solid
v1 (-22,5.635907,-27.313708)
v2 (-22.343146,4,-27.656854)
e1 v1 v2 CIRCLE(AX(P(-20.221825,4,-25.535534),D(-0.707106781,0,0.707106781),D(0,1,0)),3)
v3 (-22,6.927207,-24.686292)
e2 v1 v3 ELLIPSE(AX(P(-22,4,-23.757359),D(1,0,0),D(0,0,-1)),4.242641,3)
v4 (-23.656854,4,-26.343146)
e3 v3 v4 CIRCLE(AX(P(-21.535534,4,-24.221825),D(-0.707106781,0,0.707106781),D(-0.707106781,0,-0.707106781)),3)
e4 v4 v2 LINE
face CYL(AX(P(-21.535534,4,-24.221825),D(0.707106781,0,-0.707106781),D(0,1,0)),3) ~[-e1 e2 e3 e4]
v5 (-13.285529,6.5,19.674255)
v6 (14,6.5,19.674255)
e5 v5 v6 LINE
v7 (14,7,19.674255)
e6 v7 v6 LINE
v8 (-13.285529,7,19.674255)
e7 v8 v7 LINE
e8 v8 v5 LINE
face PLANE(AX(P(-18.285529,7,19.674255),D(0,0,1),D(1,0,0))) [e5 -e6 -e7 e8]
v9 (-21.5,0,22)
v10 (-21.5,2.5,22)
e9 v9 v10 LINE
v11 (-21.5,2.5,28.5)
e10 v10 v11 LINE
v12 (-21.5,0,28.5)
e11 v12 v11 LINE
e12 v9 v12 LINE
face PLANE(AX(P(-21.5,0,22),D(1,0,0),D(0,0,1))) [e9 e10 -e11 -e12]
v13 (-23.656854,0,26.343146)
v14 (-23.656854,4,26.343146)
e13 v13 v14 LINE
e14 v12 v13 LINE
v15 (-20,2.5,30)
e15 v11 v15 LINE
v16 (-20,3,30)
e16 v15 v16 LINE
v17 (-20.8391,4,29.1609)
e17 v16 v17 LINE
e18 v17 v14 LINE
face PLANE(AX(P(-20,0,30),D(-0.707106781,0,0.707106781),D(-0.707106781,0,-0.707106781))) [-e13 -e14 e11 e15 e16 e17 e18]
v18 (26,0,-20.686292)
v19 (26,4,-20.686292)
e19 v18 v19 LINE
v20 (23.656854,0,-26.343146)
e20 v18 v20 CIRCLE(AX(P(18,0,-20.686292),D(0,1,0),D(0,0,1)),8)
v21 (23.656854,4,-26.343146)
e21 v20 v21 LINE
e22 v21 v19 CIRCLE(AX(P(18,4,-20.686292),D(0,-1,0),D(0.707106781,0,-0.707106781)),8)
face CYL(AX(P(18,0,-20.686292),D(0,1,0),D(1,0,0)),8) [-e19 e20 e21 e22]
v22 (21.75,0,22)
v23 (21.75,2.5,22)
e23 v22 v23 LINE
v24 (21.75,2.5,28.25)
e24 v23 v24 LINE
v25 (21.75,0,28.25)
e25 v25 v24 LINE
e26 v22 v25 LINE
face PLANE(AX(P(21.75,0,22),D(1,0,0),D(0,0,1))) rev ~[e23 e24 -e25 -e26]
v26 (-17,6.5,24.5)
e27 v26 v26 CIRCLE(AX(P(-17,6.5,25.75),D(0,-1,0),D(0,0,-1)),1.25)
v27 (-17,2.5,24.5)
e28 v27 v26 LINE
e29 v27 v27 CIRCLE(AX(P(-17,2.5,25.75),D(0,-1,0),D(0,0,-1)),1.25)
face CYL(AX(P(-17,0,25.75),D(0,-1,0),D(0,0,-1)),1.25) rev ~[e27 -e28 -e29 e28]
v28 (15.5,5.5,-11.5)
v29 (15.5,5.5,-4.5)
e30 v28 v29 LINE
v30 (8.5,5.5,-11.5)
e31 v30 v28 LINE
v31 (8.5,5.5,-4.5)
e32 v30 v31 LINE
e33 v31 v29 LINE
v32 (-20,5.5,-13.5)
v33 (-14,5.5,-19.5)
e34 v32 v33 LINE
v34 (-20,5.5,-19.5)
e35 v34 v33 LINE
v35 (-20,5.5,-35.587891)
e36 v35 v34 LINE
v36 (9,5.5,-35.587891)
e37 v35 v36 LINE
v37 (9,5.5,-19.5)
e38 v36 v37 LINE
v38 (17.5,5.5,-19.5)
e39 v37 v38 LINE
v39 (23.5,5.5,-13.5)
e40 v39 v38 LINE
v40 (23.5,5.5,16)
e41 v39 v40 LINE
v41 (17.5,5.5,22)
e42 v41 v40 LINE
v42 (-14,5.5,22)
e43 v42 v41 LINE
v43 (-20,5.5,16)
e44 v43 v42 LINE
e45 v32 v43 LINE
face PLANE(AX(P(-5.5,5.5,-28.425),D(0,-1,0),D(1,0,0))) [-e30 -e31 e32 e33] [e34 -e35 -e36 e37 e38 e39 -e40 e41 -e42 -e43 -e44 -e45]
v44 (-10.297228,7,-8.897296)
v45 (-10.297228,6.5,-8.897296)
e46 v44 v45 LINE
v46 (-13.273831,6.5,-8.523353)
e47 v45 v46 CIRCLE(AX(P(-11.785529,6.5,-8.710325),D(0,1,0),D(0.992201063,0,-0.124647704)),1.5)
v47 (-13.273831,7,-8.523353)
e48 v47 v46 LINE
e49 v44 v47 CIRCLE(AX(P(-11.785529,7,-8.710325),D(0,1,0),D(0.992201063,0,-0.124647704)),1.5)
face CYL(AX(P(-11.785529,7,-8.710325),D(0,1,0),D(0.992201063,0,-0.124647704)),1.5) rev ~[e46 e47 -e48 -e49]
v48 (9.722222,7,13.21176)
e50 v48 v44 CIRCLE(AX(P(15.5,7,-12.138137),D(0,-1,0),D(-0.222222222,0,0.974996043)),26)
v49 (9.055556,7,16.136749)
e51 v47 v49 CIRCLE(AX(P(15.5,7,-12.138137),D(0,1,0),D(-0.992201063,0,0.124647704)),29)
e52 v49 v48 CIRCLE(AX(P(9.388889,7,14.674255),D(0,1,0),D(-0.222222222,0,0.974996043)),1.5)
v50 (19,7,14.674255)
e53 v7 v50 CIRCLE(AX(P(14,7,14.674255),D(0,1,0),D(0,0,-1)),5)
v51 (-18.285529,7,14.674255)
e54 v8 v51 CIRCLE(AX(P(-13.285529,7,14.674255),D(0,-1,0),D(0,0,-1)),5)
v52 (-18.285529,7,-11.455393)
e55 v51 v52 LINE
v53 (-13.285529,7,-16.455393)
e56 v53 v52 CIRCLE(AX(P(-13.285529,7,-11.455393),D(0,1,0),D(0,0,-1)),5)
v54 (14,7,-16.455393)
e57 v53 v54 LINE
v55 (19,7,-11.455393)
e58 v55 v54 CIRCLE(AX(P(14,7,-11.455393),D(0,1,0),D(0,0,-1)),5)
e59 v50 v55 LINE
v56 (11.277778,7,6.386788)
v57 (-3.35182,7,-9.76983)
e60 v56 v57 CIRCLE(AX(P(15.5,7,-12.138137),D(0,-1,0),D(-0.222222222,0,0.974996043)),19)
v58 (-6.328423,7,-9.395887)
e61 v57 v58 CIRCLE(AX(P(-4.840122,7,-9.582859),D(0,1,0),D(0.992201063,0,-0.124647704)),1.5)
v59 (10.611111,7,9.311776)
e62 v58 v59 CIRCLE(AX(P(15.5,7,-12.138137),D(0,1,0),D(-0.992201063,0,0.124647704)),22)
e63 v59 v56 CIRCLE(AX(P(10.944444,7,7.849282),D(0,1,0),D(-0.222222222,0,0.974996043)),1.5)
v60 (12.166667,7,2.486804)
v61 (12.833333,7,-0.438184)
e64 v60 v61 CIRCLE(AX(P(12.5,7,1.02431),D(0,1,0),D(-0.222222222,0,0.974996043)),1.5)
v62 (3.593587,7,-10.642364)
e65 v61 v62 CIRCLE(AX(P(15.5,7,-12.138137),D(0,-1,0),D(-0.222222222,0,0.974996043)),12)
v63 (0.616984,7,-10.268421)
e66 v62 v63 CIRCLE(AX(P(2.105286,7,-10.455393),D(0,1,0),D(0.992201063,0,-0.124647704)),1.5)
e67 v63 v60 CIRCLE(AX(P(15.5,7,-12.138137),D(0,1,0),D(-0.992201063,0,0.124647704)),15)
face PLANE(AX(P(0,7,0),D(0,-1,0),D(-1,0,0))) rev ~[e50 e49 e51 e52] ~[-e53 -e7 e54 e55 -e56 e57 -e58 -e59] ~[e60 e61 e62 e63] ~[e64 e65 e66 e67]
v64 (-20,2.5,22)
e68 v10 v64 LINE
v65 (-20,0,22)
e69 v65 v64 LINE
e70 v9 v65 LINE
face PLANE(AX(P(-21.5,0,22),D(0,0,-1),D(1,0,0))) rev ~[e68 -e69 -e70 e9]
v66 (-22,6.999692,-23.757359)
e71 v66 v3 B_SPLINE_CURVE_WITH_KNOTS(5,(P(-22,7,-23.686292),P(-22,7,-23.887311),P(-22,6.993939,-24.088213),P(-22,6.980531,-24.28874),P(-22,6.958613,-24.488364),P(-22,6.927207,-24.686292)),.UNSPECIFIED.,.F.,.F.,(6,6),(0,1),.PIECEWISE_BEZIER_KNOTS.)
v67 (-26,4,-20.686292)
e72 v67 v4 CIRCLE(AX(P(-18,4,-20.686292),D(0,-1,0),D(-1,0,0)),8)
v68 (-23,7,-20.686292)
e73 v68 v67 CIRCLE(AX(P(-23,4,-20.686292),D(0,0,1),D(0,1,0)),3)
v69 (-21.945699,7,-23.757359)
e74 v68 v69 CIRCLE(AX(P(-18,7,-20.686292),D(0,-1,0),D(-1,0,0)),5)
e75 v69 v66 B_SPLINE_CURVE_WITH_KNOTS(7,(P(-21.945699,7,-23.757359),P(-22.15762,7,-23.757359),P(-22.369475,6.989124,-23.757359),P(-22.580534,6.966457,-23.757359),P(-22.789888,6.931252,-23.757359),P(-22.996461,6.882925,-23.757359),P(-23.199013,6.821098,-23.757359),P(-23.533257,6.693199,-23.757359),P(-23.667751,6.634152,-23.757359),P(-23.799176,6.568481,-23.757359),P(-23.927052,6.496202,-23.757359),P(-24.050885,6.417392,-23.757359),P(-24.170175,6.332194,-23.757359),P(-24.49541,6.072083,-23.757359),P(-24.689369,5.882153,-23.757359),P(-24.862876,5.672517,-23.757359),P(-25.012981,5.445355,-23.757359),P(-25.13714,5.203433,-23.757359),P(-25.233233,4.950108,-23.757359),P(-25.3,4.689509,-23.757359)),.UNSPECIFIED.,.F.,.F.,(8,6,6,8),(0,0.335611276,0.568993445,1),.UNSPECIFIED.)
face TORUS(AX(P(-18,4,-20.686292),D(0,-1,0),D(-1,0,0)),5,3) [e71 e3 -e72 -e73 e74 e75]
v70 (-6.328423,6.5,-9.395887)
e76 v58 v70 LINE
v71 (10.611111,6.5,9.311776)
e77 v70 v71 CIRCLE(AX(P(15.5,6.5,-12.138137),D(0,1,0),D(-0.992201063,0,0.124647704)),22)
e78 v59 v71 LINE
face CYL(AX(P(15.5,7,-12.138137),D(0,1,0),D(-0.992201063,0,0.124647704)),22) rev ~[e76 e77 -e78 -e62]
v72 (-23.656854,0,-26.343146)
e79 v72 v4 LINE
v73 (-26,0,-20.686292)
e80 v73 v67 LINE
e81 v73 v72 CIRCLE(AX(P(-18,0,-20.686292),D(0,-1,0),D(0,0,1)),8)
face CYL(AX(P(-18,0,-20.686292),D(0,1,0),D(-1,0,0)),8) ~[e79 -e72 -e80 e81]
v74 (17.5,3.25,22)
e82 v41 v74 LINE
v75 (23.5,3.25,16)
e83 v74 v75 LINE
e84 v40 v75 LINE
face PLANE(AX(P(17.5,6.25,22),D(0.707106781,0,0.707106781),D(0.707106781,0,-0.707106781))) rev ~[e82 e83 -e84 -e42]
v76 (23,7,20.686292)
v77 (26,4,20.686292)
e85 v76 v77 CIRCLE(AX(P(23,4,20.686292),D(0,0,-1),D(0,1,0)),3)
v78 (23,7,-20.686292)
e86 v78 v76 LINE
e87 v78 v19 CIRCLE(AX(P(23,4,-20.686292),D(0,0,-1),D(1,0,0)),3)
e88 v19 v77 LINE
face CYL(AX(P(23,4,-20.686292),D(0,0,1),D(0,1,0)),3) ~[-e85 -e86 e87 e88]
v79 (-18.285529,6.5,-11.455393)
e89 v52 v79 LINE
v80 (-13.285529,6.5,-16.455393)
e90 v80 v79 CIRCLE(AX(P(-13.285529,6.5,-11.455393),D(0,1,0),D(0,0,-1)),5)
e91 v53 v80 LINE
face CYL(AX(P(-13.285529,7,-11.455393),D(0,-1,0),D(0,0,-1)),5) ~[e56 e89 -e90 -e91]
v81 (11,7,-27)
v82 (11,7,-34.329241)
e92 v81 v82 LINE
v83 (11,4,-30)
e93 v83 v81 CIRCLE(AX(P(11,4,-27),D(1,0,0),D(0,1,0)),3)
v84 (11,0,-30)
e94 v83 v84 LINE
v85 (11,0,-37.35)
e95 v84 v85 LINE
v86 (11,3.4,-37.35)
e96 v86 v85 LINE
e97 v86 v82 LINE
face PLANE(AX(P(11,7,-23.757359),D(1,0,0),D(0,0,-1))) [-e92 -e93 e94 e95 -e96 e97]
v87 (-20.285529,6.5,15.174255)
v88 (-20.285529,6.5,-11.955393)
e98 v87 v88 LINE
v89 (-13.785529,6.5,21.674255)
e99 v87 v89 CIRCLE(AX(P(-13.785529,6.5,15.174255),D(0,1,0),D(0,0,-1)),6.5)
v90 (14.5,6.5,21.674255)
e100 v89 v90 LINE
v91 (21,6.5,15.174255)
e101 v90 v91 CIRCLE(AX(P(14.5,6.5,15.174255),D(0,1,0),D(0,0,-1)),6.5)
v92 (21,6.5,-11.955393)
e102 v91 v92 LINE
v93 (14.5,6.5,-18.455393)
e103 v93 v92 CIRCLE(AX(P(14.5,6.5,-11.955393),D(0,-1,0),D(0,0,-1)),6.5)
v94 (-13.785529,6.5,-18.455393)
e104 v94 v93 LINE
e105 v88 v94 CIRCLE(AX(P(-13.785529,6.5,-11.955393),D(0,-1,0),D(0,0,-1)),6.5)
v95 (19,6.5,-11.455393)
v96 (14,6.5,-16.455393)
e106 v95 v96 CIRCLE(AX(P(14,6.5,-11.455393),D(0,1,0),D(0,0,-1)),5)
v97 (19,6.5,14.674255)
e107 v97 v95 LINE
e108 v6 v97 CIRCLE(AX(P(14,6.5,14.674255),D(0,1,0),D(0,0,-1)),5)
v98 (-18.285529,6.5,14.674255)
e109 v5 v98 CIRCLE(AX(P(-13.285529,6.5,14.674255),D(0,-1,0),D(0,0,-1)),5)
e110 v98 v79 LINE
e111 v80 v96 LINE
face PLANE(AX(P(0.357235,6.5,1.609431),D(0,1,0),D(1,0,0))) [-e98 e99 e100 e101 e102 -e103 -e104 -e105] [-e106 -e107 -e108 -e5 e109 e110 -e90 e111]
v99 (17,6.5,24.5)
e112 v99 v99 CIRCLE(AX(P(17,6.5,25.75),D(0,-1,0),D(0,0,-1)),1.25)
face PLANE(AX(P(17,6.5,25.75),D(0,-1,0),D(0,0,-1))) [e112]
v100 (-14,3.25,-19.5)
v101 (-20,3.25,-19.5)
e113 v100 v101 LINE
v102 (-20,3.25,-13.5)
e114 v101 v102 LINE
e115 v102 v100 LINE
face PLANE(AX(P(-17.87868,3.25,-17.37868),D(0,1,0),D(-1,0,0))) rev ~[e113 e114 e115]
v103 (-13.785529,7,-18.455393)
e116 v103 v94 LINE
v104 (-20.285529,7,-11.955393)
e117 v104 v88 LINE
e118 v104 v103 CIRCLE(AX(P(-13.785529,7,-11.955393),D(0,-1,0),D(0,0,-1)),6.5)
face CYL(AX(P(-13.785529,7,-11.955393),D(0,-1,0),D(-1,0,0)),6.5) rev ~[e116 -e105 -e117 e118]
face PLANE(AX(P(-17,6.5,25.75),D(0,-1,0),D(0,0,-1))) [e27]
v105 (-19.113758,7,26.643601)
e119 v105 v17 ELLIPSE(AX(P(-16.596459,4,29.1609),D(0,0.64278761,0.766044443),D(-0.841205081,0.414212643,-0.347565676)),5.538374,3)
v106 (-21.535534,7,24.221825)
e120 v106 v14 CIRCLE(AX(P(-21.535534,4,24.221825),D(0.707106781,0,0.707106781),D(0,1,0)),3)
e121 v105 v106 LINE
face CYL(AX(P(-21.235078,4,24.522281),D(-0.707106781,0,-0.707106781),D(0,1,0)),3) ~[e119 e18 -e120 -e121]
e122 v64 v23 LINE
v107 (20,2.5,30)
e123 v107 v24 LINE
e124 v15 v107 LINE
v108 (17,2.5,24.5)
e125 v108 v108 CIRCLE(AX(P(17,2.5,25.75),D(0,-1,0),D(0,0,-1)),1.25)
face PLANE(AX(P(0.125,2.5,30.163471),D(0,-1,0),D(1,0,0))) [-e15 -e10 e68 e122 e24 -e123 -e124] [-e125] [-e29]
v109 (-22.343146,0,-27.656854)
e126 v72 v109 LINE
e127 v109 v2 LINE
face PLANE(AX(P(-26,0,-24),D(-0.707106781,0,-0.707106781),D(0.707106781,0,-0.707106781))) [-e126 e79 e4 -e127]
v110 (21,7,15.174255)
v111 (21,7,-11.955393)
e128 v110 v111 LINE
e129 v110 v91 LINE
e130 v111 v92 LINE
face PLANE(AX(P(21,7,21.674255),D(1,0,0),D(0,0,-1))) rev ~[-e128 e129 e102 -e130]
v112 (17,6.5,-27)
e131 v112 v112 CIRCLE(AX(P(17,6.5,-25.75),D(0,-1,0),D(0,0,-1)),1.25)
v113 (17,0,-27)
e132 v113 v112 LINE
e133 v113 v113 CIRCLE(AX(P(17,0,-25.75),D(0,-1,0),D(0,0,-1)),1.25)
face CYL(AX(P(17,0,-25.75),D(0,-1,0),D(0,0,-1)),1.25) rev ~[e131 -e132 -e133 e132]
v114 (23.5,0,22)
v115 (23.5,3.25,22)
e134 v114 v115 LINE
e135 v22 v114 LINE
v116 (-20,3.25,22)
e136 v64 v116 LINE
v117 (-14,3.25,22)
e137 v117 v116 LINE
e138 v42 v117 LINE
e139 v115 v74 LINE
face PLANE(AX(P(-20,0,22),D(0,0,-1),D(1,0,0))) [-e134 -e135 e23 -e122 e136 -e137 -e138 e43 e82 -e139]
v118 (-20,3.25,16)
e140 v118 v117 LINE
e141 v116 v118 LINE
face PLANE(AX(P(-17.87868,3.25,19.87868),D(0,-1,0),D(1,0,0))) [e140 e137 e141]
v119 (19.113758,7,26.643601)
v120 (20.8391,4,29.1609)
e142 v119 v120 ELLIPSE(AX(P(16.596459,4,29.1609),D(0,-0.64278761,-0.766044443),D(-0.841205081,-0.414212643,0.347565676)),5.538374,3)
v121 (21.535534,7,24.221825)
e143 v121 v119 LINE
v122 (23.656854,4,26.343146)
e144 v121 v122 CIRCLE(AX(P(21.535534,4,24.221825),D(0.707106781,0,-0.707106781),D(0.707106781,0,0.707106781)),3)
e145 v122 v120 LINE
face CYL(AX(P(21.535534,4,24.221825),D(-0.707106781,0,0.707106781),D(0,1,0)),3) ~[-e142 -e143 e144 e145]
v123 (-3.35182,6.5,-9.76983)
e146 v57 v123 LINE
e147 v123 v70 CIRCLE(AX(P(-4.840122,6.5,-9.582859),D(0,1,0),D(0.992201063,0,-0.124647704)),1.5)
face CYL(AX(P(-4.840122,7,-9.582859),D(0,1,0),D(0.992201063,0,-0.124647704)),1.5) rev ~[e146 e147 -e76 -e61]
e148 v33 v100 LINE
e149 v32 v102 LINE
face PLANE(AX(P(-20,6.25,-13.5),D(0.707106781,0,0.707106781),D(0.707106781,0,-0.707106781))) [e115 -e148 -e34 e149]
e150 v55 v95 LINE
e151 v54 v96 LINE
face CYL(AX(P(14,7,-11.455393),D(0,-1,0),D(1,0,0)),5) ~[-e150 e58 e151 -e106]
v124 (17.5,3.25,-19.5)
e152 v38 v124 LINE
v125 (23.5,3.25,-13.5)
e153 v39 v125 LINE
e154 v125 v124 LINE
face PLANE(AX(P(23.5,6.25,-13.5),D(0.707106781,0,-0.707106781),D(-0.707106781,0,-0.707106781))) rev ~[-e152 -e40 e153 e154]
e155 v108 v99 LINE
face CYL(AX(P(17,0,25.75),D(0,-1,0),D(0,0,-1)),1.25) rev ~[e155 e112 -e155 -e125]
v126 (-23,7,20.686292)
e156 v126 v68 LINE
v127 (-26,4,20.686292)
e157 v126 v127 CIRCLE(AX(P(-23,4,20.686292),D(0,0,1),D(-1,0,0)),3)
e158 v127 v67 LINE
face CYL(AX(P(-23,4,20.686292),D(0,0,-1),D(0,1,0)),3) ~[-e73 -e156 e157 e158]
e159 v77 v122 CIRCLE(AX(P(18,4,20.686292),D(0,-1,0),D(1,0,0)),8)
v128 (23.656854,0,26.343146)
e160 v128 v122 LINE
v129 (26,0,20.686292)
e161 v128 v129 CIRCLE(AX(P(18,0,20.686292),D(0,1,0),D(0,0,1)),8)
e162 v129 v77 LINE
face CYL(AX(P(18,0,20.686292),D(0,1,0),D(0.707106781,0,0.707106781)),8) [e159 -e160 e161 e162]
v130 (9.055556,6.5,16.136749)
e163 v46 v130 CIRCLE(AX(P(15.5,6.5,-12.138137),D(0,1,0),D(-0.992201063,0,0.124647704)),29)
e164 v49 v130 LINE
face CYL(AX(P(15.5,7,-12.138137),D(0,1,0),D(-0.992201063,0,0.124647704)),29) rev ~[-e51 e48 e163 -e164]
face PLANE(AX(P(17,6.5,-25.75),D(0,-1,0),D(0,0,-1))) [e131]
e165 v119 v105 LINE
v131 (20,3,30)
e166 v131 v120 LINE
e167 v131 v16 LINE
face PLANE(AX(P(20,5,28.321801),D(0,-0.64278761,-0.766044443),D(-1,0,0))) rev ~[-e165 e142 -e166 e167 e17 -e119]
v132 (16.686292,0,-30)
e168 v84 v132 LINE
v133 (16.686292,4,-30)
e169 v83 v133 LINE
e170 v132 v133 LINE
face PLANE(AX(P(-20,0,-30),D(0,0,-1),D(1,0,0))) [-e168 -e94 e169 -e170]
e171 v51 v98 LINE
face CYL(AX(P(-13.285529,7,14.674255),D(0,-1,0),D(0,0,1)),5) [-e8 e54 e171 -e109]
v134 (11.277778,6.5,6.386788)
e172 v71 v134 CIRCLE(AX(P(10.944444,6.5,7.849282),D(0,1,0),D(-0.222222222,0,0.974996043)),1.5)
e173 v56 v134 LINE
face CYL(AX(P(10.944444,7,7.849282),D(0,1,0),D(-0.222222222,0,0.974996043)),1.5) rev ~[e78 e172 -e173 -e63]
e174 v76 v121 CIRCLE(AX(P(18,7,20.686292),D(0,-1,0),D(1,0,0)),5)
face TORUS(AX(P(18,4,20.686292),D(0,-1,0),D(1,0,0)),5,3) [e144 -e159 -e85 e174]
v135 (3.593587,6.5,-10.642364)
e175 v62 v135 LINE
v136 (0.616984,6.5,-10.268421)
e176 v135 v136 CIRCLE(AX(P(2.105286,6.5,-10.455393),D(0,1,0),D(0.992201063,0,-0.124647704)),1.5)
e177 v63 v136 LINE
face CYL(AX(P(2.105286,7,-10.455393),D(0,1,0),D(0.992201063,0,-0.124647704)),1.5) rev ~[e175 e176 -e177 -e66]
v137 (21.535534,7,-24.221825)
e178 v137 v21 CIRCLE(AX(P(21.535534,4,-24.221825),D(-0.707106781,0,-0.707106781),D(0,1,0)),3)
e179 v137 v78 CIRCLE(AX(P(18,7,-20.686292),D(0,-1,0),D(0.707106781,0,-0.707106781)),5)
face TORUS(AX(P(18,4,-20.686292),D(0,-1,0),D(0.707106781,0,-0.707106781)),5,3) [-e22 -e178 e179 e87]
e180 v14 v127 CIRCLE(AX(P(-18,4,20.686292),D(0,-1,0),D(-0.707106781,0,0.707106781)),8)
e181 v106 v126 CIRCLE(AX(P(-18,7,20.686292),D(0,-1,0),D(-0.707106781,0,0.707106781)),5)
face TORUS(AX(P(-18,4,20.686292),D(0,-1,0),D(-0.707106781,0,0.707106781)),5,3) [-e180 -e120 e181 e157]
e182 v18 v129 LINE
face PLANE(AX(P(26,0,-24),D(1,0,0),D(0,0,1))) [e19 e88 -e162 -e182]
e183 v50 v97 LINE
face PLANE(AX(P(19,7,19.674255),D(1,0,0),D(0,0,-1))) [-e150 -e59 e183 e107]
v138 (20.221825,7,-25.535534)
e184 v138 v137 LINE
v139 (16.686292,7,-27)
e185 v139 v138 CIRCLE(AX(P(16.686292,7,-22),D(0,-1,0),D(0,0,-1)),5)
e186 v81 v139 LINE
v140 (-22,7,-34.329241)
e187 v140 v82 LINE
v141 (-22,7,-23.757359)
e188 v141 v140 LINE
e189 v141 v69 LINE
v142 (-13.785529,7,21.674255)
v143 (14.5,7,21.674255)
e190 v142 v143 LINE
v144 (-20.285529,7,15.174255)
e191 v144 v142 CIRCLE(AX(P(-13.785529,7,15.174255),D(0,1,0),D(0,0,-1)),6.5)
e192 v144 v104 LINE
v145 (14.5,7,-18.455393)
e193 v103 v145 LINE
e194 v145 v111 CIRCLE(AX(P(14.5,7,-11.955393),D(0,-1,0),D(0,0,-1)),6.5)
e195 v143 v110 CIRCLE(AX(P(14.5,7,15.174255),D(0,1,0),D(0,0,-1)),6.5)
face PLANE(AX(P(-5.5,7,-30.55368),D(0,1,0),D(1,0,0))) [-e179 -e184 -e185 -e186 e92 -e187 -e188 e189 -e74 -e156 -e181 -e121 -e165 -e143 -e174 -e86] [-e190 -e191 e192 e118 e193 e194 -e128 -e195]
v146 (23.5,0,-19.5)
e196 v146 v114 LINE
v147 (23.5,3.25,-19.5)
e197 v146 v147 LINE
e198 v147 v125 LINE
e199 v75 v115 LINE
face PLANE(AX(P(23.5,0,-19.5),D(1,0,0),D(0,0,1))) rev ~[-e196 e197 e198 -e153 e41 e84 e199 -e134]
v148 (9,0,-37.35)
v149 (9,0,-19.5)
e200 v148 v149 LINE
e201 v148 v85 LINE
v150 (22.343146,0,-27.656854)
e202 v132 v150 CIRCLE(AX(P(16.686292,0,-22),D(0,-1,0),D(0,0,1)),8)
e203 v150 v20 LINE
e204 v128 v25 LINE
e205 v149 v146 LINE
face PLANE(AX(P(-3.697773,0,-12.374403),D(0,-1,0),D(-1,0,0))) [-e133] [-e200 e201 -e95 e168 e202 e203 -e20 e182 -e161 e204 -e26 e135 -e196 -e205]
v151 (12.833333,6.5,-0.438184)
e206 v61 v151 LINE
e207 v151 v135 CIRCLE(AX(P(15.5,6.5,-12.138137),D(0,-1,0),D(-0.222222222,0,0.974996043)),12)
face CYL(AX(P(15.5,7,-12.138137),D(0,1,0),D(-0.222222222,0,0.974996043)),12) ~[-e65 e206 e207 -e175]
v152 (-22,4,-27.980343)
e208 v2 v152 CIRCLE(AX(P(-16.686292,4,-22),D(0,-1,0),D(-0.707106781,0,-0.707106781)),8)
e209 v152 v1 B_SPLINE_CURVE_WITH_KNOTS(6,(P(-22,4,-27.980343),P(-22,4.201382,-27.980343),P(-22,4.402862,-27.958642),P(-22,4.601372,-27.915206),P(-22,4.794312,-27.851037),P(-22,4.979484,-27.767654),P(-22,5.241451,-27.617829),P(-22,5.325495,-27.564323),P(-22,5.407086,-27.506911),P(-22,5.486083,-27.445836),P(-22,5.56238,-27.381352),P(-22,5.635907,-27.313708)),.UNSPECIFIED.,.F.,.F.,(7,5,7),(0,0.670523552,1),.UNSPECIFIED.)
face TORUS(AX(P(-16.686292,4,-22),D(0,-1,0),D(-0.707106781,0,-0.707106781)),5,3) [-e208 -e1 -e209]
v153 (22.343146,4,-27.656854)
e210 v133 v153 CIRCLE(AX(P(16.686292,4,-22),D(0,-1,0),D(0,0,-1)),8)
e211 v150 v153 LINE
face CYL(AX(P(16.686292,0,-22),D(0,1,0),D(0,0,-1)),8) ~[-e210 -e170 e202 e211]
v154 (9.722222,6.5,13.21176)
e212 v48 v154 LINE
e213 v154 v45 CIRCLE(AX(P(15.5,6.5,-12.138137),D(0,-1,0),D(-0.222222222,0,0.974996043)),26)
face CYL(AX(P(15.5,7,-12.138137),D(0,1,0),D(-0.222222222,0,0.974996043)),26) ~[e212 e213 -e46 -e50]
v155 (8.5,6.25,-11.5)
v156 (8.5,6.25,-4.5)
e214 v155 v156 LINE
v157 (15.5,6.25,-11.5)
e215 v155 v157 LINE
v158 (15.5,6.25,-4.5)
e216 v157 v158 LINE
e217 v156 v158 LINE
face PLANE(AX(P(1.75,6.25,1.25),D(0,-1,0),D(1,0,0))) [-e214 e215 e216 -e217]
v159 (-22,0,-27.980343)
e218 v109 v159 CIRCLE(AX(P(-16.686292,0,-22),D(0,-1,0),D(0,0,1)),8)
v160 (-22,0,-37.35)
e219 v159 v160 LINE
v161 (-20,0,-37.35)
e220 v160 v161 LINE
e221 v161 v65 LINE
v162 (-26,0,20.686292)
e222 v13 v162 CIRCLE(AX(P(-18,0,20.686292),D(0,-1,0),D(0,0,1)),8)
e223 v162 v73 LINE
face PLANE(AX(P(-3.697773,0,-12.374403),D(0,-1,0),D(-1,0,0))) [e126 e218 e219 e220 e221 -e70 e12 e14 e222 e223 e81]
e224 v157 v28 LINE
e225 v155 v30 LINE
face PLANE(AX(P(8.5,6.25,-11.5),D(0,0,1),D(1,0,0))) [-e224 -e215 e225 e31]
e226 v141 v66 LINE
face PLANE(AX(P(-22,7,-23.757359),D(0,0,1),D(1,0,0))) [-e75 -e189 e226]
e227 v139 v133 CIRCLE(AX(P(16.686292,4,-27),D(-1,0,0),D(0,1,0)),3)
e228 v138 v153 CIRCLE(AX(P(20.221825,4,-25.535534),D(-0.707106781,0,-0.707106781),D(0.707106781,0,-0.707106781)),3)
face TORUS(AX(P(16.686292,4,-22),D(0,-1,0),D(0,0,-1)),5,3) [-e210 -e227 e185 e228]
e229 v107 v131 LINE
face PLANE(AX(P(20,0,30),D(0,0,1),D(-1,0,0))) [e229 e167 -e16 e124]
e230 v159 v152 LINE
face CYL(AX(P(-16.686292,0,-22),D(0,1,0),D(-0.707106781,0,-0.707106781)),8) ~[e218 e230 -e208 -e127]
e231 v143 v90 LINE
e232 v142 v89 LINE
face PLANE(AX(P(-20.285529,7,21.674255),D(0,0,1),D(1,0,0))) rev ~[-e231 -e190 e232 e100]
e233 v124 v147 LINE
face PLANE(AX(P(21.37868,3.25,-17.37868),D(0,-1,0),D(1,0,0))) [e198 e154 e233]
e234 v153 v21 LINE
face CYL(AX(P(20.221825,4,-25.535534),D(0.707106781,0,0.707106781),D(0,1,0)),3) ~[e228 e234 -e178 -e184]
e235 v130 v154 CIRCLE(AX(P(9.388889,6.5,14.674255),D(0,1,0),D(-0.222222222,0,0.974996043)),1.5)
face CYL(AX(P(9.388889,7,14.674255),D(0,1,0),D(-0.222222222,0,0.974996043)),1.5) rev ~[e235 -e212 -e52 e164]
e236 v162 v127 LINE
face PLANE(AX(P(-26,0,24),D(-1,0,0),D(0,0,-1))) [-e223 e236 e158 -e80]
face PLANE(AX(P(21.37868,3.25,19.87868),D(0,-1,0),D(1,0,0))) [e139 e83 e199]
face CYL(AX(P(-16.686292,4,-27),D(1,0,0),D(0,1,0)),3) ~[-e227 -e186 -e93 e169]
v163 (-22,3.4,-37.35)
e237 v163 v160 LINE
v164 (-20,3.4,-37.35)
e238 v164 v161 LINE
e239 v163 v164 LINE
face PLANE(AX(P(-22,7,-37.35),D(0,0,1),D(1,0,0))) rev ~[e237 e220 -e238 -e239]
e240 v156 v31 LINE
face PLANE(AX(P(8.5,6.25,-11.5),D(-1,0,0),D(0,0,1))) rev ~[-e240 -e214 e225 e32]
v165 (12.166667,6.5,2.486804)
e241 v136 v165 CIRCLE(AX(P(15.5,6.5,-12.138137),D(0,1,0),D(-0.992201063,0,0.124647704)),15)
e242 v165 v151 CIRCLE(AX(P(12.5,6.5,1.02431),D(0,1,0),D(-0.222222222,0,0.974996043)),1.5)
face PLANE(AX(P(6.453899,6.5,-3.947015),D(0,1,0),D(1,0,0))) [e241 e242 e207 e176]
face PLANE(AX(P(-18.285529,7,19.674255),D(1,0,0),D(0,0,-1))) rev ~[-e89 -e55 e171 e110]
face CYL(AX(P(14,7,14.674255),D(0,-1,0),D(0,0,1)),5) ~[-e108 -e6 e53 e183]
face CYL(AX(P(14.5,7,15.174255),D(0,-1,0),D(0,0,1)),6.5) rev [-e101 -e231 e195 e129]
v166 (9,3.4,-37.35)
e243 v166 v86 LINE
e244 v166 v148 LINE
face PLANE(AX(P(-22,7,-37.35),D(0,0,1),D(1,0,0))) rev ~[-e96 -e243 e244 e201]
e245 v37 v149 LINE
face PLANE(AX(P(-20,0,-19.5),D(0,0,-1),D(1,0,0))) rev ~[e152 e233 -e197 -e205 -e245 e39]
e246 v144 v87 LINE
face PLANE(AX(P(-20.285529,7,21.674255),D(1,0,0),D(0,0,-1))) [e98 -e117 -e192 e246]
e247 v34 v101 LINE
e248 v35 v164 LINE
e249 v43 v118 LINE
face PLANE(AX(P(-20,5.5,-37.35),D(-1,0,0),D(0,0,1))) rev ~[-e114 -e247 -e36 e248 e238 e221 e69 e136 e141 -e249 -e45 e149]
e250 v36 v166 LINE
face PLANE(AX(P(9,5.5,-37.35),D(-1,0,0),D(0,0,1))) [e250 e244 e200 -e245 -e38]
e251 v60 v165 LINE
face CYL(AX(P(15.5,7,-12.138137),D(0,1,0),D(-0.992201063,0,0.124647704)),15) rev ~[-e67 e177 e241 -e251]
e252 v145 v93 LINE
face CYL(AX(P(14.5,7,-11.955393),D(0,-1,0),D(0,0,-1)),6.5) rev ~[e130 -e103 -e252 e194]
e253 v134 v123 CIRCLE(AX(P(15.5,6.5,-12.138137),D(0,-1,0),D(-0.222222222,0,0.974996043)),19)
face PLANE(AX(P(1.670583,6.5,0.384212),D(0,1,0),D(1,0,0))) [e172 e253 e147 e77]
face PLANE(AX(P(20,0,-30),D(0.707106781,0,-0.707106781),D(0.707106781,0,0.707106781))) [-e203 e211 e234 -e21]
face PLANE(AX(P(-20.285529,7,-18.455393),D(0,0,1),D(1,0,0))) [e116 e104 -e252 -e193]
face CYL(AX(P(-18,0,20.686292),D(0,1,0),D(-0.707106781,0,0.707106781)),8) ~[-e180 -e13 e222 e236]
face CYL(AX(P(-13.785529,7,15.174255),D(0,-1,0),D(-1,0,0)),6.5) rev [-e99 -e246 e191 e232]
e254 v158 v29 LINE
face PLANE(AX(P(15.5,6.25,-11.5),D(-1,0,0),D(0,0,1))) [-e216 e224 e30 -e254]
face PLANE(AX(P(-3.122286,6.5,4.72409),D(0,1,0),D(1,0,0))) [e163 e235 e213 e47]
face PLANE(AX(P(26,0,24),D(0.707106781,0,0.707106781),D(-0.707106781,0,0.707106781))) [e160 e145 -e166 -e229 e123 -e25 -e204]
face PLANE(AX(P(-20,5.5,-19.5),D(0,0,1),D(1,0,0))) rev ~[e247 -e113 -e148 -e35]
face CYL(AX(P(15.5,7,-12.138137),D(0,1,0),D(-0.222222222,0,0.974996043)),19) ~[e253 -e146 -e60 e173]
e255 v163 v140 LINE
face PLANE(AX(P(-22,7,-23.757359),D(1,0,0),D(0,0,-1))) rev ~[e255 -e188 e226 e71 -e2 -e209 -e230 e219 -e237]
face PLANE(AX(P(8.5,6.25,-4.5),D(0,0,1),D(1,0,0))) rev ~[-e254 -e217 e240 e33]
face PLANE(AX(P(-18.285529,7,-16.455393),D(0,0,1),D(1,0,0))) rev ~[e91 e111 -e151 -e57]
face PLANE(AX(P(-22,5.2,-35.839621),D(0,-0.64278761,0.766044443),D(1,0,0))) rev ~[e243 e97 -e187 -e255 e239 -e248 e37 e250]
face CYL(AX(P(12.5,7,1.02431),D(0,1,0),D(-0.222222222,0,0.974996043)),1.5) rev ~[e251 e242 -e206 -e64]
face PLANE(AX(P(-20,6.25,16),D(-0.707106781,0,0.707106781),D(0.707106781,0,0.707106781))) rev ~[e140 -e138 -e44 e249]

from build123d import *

# Parameters (mm, degrees)
BOSS_EXTRUDE1_DEPTH = 7
SKETCH2_W           = 43.5
SKETCH2_H           = 41.5
CUT_EXTRUDE1_DEPTH  = 6.25
BOSS_EXTRUDE2_DEPTH = 3
SKETCH4_W           = 43.25
SKETCH4_H           = 16.326941356
CUT_EXTRUDE2_DEPTH  = 2.5
SKETCH5_R           = 1.25
CUT_EXTRUDE3_DEPTH  = 6.5
SKETCH6_W           = 43.5
SKETCH6_H           = 41.5
SKETCH6_W_2         = 7
SKETCH6_H_2         = 7
BOSS_EXTRUDE3_DEPTH = 0.75
SKETCH7_W           = 41.285529239
SKETCH7_H           = 40.12964718
SKETCH7_W_2         = 37.285529239
SKETCH7_H_2         = 36.12964718
CUT_EXTRUDE4_DEPTH  = 0.5
CHAMFER1_SIZE       = 4
CHAMFER1_SIZE2      = 3.356398525
FILLET1_R           = 8
FILLET2_R           = 3
FILLET3_R           = 5
FILLET4_R           = 6.5
BOSS_EXTRUDE4_REACH = 42.311
SKETCH11_W          = 33
SKETCH11_H          = 13.592640687
CHAMFER2_SIZE       = 3.6
CHAMFER2_SIZE2      = 3.020758672
CUT_EXTRUDE7_START  = -5.5
SKETCH12_W          = 29
SKETCH12_H          = 17.85
CUT_EXTRUDE7_DEPTH  = 5.5


with BuildPart() as part:
    # Sketch1 → Boss-Extrude1 (new body)
    with BuildSketch(Plane(origin=(0, 0, 0), x_dir=(1, 0, 0), z_dir=(0, 1, 0))):
        Polygon((-26, 24), (-20, 30), (20, 30), (26, 24), (26, -24), (20, -30), (-20, -30), (-26, -24), align=None)
    extrude(amount=BOSS_EXTRUDE1_DEPTH)

    # Sketch2 → Cut-Extrude1 (cut)
    with BuildSketch(Plane.XZ):
        with Locations((1.75, 1.25)):
            Rectangle(SKETCH2_W, SKETCH2_H)
    extrude(amount=-CUT_EXTRUDE1_DEPTH, mode=Mode.SUBTRACT)

    # Sketch3 → Boss-Extrude2 (add)
    with BuildSketch(Plane.XZ.offset(-6.25)):
        Polygon((-20, 16), (-14, 22), (-20, 22), align=None)
        Polygon((-20, -13.5), (-14, -19.5), (-20, -19.5), align=None)
        Polygon((17.5, -19.5), (23.5, -19.5), (23.5, -13.5), align=None)
        Polygon((17.5, 22), (23.5, 16), (23.5, 22), align=None)
    extrude(amount=BOSS_EXTRUDE2_DEPTH)

    # Sketch4 → Cut-Extrude2 (cut)
    with BuildSketch(Plane.XZ):
        with Locations((0.125, 30.163470678)):
            Rectangle(SKETCH4_W, SKETCH4_H)
    extrude(amount=-CUT_EXTRUDE2_DEPTH, mode=Mode.SUBTRACT)

    # Sketch5 → Cut-Extrude3 (cut)
    with BuildSketch(Plane.XZ):
        with Locations(Location((-17, 25.75, 0), (0, 0, 270))):
            Circle(SKETCH5_R)
        with Locations(Location((17, 25.75, 0), (0, 0, 270))):
            Circle(SKETCH5_R)
        with Locations(Location((17, -25.75, 0), (0, 0, 270))):
            Circle(SKETCH5_R)
    extrude(amount=-CUT_EXTRUDE3_DEPTH, mode=Mode.SUBTRACT)

    # Sketch6 → Boss-Extrude3 (add)
    with BuildSketch(Plane.XZ.offset(-6.25)):
        with Locations((1.75, 1.25)):
            Rectangle(SKETCH6_W, SKETCH6_H)
        with Locations((12, -8)):
            Rectangle(SKETCH6_W_2, SKETCH6_H_2, mode=Mode.SUBTRACT)
    extrude(amount=BOSS_EXTRUDE3_DEPTH)

    # Sketch7 → Cut-Extrude4 (cut)
    with BuildSketch(Plane(origin=(0, 7, 0), x_dir=(1, 0, 0), z_dir=(0, 1, 0))):
        with Locations((0.35723538, -1.609430965)):
            Rectangle(SKETCH7_W, SKETCH7_H)
        with Locations((0.35723538, -1.609430965)):
            Rectangle(SKETCH7_W_2, SKETCH7_H_2, mode=Mode.SUBTRACT)
        with BuildLine():
            ThreePointArc((-13.273830834, 8.523353213), (-5.99678776, -7.326911946), (9.055555556, -16.136748619))
            ThreePointArc((9.055555556, -16.136748619), (10.851382953, -15.007587888), (9.722222222, -13.21176049))
            ThreePointArc((9.722222222, -13.21176049), (-3.77298213, -5.313286231), (-10.297227644, 8.897296325))
            ThreePointArc((-10.297227644, 8.897296325), (-11.972500795, 10.198626364), (-13.273830834, 8.523353213))
        make_face()
        with BuildLine():
            ThreePointArc((-6.328423391, 9.395887141), (-0.807907956, -2.628451945), (10.611111111, -9.311776318))
            ThreePointArc((10.611111111, -9.311776318), (12.406938509, -8.182615587), (11.277777778, -6.386788189))
            ThreePointArc((11.277777778, -6.386788189), (1.415897675, -0.61482623), (-3.351820202, 9.769830253))
            ThreePointArc((-3.351820202, 9.769830253), (-5.027093352, 11.071160292), (-6.328423391, 9.395887141))
        make_face()
        with BuildLine():
            ThreePointArc((0.616984051, 10.268421069), (4.380971848, 2.070008056), (12.166666667, -2.486804017))
            ThreePointArc((12.166666667, -2.486804017), (13.962494065, -1.357643286), (12.833333333, 0.438184112))
            ThreePointArc((12.833333333, 0.438184112), (6.604777479, 4.08363377), (3.593587241, 10.642364181))
            ThreePointArc((3.593587241, 10.642364181), (1.91831409, 11.94369422), (0.616984051, 10.268421069))
        make_face()
    extrude(amount=-CUT_EXTRUDE4_DEPTH, mode=Mode.SUBTRACT)

    # Chamfer1
    chamfer1_edges = [part.edges().sort_by_distance(p)[0] for p in [
        (0, 7, 30),
    ]]
    chamfer1_side = [part.faces().sort_by_distance(p)[0] for p in [
        (0, 4.75, 30),
    ]]
    chamfer(chamfer1_edges, length=CHAMFER1_SIZE, length2=CHAMFER1_SIZE2, reference=chamfer1_side[0])

    # Fillet1
    fillet1_edges = [part.edges().sort_by_distance(p)[0] for p in [
        (-26, 3.5, -24),
        (-20, 3.5, -30),
        (20, 3.5, -30),
        (26, 3.5, -24),
        (26, 3.5, 24),
        (-26, 3.5, 24),
    ]]
    fillet(fillet1_edges, radius=FILLET1_R)

    # Fillet2
    fillet2_edges = [part.edges().sort_by_distance(p)[0] for p in [
        (23.506626387, 7, 26.493373613),
        (0, 7, -30),
        (23, 7, -27),
        (-23.506626387, 7, 26.493373613),
        (26, 7, 0),
        (-23, 7, -27),
        (-26, 7, 0),
        (-25.39103626, 7, 23.74775896),
        (-25.39103626, 7, -23.74775896),
        (-19.74775896, 7, -29.39103626),
        (25.39103626, 7, 23.74775896),
        (25.39103626, 7, -23.74775896),
        (19.74775896, 7, -29.39103626),
    ]]
    fillet(fillet2_edges, radius=FILLET2_R)

    # Fillet3
    fillet3_edges = [part.edges().sort_by_distance(p)[0] for p in [
        (19, 6.75, -16.455392625),
        (-18.285529239, 6.75, -16.455392625),
        (-18.285529239, 6.75, 19.674254555),
        (19, 6.75, 19.674254555),
    ]]
    fillet(fillet3_edges, radius=FILLET3_R)

    # Fillet4
    fillet4_edges = [part.edges().sort_by_distance(p)[0] for p in [
        (-20.285529239, 6.75, 21.674254555),
        (-20.285529239, 6.75, -18.455392625),
        (21, 6.75, -18.455392625),
        (21, 6.75, 21.674254555),
    ]]
    fillet(fillet4_edges, radius=FILLET4_R)

    # Boss-Extrude4: up to this face of the body (flat: up to its plane)
    boss_extrude4_end = Plane(part.part.faces().sort_by_distance((-25.217296352, 0, 0))[0])
    # Sketch11 → Boss-Extrude4 (add, up to the picked face)
    with BuildSketch(Plane(origin=(0, 7, 0), x_dir=(1, 0, 0), z_dir=(0, 1, 0)), mode=Mode.PRIVATE) as boss_extrude4_sk1:
        with Locations((-5.5, 30.553679657)):
            Rectangle(SKETCH11_W, SKETCH11_H)
    boss_extrude4_tool1 = split(extrude(boss_extrude4_sk1.sketch, amount=-BOSS_EXTRUDE4_REACH, mode=Mode.PRIVATE), bisect_by=boss_extrude4_end, keep=Keep.BOTH, mode=Mode.PRIVATE)
    add(boss_extrude4_tool1.solids().sort_by(Axis((-5.5, 7, -30.55368), (0, -1, 0)))[0])

    # Chamfer2
    chamfer2_edges = [part.edges().sort_by_distance(p)[0] for p in [
        (-5.5, 7, -37.35),
    ]]
    chamfer2_side = [part.faces().sort_by_distance(p)[0] for p in [
        (-5.5, 3.5, -37.35),
    ]]
    chamfer(chamfer2_edges, length=CHAMFER2_SIZE, length2=CHAMFER2_SIZE2, reference=chamfer2_side[0])

    # Sketch12 → Cut-Extrude7 (cut)
    with BuildSketch(Plane.XZ.offset(CUT_EXTRUDE7_START)):
        with Locations((-5.5, -28.425)):
            Rectangle(SKETCH12_W, SKETCH12_H)
    extrude(amount=CUT_EXTRUDE7_DEPTH, mode=Mode.SUBTRACT)


solid = part.part
